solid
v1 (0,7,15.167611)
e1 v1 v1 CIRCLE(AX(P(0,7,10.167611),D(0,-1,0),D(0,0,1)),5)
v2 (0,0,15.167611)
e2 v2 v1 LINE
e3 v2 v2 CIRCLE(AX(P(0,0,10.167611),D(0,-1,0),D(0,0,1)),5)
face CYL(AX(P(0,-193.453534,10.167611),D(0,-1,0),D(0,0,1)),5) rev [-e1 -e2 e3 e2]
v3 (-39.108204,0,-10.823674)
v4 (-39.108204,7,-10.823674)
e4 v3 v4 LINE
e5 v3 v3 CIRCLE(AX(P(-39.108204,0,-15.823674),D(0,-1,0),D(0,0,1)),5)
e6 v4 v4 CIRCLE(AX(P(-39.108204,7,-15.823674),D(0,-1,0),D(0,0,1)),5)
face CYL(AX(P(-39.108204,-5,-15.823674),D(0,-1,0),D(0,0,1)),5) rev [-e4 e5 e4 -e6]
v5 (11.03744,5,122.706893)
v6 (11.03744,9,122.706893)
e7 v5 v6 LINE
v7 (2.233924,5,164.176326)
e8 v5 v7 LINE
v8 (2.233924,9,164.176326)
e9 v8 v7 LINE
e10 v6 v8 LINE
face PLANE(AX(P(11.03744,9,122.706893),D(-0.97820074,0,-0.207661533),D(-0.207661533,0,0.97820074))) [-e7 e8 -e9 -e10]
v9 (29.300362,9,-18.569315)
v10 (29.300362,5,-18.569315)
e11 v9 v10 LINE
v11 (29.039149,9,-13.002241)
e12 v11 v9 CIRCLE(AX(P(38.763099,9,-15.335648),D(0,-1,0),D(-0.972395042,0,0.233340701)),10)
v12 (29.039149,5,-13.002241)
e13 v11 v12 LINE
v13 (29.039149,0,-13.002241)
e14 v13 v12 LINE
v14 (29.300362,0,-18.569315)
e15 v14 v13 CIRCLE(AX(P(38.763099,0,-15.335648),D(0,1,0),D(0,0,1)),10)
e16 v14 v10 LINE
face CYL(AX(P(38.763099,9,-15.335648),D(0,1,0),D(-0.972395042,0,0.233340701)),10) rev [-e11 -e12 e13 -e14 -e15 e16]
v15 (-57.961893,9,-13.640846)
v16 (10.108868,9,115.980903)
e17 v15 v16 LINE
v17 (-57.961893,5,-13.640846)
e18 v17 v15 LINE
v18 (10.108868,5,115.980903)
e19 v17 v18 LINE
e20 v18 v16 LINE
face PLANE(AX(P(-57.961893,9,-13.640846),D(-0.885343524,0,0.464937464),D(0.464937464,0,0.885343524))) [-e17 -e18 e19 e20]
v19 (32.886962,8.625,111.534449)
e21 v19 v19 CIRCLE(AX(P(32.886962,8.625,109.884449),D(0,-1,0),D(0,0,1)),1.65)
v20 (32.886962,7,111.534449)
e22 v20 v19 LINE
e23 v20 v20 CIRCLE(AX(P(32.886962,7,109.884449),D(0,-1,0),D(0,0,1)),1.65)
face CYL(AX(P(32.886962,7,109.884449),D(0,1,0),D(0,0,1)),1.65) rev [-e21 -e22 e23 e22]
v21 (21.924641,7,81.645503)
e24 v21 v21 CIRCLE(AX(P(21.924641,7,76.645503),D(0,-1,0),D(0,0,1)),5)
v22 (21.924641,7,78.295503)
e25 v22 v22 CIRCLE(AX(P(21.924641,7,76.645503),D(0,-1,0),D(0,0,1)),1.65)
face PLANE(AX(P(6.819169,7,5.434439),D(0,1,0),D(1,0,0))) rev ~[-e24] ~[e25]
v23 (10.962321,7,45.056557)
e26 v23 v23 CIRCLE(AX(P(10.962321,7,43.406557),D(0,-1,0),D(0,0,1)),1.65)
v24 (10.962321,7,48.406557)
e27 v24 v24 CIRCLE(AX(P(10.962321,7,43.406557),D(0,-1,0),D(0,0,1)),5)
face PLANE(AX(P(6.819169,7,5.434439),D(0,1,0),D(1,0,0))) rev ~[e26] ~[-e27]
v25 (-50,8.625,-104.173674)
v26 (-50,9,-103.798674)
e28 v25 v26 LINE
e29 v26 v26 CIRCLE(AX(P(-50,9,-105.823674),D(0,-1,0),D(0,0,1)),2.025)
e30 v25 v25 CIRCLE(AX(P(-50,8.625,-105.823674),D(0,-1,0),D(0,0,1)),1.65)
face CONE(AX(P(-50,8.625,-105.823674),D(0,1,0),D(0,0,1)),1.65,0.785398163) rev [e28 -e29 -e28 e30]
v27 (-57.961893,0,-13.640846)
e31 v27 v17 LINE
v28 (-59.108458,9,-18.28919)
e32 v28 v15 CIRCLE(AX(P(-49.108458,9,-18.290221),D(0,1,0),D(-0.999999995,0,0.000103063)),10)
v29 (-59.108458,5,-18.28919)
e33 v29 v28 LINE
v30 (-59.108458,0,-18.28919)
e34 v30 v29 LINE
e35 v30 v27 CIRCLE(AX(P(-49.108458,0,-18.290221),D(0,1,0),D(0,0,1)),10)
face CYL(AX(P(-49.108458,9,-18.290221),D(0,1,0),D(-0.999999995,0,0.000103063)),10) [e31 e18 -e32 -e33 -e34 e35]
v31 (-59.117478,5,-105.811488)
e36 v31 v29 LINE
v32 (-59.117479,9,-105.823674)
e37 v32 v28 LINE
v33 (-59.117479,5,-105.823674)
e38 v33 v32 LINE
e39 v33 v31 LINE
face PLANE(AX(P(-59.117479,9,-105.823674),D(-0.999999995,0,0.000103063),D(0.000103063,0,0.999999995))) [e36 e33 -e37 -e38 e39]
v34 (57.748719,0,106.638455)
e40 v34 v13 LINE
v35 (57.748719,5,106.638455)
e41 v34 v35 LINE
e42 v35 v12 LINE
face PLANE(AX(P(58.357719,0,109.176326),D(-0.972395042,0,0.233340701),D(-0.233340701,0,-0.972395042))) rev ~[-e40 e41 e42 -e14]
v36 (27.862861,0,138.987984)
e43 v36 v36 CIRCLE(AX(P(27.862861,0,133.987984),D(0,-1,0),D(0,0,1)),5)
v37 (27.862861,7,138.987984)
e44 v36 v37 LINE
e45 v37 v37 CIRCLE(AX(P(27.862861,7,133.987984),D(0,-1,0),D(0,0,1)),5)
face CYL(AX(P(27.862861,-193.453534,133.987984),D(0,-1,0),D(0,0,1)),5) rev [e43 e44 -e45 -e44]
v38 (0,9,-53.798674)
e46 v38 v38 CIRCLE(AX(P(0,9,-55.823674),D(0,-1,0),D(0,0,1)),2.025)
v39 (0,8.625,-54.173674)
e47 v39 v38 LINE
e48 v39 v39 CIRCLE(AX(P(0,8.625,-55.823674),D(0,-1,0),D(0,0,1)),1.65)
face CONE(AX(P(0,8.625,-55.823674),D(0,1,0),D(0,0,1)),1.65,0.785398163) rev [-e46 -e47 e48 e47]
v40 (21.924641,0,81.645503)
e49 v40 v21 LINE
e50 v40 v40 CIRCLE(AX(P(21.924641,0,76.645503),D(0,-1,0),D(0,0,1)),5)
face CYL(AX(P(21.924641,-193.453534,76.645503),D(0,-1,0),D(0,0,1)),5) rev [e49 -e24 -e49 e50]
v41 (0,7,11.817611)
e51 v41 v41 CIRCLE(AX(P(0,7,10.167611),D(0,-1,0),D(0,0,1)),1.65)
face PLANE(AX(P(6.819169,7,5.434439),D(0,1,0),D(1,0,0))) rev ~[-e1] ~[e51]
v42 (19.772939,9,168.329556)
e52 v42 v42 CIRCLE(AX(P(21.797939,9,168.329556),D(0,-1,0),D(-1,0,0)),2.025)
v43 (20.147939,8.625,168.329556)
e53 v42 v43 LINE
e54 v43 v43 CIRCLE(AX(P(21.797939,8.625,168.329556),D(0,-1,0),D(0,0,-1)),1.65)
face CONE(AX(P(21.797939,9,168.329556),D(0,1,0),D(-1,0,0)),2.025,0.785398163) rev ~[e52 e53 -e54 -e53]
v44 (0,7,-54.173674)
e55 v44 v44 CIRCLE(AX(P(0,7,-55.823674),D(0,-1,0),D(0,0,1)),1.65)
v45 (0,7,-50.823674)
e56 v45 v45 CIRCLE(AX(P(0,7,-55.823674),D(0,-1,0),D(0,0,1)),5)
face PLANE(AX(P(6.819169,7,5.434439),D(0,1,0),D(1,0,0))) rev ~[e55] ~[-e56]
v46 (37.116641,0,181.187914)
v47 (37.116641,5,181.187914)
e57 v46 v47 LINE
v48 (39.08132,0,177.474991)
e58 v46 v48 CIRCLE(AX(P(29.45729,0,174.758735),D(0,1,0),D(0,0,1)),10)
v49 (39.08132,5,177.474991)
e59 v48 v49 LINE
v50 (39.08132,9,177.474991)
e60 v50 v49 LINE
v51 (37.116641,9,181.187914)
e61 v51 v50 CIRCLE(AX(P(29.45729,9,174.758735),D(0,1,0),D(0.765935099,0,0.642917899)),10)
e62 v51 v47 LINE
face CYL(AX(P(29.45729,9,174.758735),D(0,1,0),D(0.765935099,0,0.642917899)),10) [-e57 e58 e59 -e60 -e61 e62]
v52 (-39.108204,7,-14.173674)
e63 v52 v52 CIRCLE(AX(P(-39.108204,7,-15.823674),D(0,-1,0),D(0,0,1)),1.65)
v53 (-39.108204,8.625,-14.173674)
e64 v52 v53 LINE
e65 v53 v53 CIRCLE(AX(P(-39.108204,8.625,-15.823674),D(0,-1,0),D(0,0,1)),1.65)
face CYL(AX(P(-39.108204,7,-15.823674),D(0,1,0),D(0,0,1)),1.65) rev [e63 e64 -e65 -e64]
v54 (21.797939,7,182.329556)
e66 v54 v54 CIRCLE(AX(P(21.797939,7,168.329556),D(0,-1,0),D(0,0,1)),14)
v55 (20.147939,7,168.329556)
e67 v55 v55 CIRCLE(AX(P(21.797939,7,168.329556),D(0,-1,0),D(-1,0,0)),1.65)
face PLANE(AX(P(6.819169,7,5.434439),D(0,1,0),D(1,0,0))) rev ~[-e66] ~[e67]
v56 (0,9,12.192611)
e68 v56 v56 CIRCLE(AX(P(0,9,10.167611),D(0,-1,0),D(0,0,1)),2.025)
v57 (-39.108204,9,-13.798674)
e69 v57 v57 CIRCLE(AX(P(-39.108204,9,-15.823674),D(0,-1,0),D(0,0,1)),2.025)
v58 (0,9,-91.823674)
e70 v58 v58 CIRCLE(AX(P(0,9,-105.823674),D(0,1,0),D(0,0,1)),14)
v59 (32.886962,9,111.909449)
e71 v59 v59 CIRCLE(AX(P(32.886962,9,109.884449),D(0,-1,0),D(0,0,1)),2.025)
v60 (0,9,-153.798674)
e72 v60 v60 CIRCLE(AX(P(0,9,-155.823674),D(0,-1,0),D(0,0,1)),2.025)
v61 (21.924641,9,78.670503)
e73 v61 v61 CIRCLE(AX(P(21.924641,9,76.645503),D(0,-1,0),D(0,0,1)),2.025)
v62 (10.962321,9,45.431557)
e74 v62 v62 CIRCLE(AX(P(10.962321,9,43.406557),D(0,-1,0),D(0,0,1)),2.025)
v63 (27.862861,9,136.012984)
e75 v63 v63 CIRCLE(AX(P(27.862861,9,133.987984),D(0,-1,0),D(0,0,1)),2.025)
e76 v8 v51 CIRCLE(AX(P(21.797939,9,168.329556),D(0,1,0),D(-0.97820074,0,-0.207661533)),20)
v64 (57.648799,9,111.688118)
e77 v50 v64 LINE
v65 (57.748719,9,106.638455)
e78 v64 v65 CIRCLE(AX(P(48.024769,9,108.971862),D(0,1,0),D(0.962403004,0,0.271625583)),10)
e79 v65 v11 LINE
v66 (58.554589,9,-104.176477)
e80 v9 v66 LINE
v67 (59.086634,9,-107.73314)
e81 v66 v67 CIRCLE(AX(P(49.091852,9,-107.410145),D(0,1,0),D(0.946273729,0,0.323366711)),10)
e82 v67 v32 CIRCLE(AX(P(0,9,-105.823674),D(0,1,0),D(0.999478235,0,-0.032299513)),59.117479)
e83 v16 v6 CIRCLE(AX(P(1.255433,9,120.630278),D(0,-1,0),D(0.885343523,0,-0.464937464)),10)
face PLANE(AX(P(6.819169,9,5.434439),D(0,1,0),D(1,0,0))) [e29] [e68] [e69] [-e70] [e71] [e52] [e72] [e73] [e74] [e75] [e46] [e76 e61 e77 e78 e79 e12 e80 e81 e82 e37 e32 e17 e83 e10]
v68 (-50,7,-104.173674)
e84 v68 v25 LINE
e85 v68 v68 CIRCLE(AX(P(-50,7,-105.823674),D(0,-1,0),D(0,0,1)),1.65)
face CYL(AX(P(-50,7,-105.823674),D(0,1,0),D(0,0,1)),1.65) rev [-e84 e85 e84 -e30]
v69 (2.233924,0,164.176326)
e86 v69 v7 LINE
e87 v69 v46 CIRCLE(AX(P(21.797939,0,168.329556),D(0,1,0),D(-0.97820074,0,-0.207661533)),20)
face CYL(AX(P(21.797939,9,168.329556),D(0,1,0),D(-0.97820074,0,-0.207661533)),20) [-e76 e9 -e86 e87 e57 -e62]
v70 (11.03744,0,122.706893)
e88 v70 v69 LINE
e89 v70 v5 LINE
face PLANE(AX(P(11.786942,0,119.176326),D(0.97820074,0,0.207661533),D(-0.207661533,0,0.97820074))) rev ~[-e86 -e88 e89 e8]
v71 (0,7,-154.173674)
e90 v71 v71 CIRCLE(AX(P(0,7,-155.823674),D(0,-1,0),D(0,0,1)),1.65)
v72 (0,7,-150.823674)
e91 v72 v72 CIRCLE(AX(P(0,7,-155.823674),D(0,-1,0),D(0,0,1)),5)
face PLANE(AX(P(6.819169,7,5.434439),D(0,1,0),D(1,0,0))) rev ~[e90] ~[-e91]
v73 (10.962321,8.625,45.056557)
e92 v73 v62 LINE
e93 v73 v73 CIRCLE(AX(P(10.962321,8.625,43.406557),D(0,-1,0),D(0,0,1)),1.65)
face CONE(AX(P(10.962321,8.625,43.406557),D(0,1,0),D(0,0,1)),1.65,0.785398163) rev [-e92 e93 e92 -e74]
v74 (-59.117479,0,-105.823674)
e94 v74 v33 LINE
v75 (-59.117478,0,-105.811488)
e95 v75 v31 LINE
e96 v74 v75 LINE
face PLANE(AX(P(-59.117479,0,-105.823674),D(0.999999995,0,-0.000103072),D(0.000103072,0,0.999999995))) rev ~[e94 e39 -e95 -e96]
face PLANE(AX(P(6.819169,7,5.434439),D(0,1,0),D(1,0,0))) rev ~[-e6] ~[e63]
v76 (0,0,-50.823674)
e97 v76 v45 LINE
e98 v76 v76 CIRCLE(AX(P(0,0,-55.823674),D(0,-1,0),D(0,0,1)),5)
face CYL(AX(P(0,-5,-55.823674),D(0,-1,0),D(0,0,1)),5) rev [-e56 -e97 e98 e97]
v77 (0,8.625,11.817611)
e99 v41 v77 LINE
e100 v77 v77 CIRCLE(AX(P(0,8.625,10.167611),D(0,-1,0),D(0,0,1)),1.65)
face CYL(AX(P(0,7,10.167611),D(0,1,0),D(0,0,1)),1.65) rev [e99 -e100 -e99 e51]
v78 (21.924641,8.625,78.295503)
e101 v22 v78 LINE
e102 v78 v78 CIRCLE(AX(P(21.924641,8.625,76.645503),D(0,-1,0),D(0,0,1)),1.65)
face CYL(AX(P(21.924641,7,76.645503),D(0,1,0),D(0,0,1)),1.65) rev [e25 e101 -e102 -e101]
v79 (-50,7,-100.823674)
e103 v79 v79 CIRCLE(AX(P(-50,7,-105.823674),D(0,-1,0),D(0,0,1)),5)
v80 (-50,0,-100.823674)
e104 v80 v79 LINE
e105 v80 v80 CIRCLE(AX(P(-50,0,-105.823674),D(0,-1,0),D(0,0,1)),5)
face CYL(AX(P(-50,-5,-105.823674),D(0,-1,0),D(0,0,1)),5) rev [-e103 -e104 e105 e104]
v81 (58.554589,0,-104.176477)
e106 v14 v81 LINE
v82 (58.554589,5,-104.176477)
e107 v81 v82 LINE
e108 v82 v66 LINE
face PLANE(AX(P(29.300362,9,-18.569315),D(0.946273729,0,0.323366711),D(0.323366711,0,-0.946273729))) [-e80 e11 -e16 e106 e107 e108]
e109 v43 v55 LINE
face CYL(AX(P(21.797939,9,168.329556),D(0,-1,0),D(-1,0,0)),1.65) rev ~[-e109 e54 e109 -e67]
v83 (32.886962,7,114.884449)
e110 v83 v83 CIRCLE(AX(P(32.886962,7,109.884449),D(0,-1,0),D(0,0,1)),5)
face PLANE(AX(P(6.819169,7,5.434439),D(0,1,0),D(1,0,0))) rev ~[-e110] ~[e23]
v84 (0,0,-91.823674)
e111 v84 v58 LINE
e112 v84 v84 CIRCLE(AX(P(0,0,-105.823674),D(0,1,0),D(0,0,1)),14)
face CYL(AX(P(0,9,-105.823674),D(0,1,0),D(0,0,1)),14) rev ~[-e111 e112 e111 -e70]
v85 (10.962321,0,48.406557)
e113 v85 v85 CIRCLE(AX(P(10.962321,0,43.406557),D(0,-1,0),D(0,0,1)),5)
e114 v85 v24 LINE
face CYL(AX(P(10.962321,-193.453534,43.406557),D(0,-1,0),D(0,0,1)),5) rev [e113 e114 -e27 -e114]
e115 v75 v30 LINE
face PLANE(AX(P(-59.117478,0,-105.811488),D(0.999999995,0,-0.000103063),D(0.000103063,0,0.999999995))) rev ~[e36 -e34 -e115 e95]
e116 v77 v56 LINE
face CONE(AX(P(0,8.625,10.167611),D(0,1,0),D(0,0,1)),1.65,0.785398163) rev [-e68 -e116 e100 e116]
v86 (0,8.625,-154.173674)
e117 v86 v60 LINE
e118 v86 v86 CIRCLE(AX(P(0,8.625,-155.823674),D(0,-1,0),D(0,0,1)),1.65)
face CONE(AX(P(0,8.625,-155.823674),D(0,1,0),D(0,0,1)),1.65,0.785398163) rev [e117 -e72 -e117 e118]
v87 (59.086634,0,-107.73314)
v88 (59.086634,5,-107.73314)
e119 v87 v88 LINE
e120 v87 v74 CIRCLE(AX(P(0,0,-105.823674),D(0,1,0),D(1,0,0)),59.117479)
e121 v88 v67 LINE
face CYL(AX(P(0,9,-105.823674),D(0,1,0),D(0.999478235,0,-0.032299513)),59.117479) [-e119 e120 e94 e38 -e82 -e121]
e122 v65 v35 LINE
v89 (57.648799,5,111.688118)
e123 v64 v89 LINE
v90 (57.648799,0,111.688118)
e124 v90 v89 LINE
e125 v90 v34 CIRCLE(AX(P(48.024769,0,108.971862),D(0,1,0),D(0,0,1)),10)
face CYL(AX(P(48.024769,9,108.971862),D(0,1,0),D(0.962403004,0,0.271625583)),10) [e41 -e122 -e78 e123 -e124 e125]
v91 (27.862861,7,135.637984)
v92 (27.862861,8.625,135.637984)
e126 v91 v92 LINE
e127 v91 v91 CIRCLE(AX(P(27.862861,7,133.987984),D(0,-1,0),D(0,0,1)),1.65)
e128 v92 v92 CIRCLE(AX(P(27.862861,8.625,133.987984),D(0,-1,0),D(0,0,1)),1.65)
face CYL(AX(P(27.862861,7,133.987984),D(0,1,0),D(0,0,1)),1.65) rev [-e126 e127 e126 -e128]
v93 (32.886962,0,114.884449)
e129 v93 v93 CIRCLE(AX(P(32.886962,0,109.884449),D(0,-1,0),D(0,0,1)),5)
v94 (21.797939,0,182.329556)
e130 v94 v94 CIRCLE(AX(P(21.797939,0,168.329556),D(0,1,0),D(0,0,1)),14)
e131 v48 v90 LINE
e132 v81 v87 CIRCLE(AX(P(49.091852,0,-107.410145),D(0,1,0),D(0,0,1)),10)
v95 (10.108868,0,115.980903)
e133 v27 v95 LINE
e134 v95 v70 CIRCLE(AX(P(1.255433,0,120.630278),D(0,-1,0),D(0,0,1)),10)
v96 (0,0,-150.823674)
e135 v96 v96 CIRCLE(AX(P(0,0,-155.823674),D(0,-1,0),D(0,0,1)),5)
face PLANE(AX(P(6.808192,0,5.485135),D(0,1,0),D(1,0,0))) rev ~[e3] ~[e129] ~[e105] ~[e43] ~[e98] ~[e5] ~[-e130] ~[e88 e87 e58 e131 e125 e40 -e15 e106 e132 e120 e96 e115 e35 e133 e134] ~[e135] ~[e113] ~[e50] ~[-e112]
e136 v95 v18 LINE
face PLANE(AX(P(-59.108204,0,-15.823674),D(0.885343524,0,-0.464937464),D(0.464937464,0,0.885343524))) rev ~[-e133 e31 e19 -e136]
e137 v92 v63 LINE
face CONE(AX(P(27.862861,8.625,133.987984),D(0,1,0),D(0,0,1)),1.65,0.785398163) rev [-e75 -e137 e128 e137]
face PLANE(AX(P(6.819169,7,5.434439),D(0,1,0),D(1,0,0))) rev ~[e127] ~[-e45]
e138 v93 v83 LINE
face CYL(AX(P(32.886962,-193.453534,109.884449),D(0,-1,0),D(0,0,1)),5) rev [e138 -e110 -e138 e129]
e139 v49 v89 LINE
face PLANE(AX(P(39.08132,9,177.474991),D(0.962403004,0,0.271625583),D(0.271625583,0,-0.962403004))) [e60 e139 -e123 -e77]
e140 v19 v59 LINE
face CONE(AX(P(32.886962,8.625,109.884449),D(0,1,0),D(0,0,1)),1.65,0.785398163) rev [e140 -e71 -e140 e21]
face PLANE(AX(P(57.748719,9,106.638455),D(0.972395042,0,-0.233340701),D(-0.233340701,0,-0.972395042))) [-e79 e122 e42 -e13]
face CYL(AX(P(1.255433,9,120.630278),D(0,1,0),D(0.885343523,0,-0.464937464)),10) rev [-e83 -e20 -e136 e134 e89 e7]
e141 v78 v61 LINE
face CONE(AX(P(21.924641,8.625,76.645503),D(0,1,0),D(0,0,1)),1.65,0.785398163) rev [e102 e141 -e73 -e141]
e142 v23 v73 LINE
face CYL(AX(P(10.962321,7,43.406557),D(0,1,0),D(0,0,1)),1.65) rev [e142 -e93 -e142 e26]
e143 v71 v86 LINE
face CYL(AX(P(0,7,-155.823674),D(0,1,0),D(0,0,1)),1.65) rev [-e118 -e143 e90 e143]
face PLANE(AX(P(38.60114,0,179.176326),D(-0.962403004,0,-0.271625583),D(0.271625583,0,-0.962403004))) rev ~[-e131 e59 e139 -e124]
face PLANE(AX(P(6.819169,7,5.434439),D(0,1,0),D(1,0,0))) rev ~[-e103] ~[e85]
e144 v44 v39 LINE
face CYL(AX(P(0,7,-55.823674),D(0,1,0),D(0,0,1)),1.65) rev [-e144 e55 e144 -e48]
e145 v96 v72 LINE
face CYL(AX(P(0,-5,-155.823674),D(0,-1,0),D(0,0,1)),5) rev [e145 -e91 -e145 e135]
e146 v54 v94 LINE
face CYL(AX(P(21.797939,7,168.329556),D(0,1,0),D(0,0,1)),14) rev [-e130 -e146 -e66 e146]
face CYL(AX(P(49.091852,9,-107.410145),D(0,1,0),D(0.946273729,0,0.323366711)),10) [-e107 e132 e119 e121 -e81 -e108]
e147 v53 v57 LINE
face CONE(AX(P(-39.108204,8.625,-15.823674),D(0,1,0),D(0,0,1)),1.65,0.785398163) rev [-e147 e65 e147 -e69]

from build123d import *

# Parameters (mm, degrees)
EXTRUDE_1_DEPTH              = 5
FILLET_1_R                   = 10
EXTRUDE_START                = 2
EXTRUDE_2_DEPTH              = 2
CUT_EXTRUDE_2_DEPTH          = 198.453534081
CUT_EXTRUDE_2_DEPTH_BACK     = 198.453534081
SKETCH_7_R                   = 5
CUT_EXTRUDE_4_DEPTH          = 198.514298523
CUT_EXTRUDE_4_DEPTH_BACK     = 7
SKETCH_5_R                   = 14
SKETCH_9_R                   = 14
CUT_EXTRUDE_5_DEPTH          = 10
CUT_EXTRUDE_7_DEPTH          = 10
CUT_EXTRUDE_7_DEPTH_BACK     = 10
SKETCH_6_R                   = 5
SKETCH_10_R                  = 14
EXTRUDE_3_DEPTH              = 2
HOLE_WIZARD_M4_1_AT_2_COUNT  = 2
HOLE_WIZARD_M4_1_AT_2_PITCH  = 100
HOLE_WIZARD_M4_1_AT_3_COUNT  = 2
HOLE_WIZARD_M4_1_AT_3_PITCH  = 70.710678119
HOLE_WIZARD_M4_1_AT_4_COUNT  = 2
HOLE_WIZARD_M4_1_AT_4_PITCH  = 145.35973122
HOLE_WIZARD_M4_1_AT_5_COUNT  = 2
HOLE_WIZARD_M4_1_AT_5_PITCH  = 165.991285367
HOLE_WIZARD_M4_1_AT_6_COUNT  = 2
HOLE_WIZARD_M4_1_AT_6_PITCH  = 199.531595345
HOLE_WIZARD_M4_1_AT_7_COUNT  = 2
HOLE_WIZARD_M4_1_AT_7_PITCH  = 233.500767159
HOLE_WIZARD_M4_1_AT_8_COUNT  = 2
HOLE_WIZARD_M4_1_AT_8_PITCH  = 267.735613968
HOLE_WIZARD_M4_1_AT_9_COUNT  = 2
HOLE_WIZARD_M4_1_AT_9_PITCH  = 291.147962879
HOLE_WIZARD_M4_2_D           = 3.3
HOLE_WIZARD_M4_2_DEPTH       = 10.1
HOLE_WIZARD_M4_2_CSINK_D     = 4.05
HOLE_WIZARD_M4_2_CSINK_ANGLE = 90
HOLE_WIZARD_M4_2_TIP         = 0.991420021


with BuildPart() as part:
    # 草图1 → 凸台-拉伸1 (new body)
    with BuildSketch(Plane(origin=(0, 0, 0), x_dir=(1, 0, 0), z_dir=(0, 1, 0))):
        with BuildLine():
            Line((28.36210367, 15.823673932), (59.117479337, 105.823673932))
            ThreePointArc((59.117479337, 105.823673932), (0, 164.941153269), (-59.117479337, 105.823673932))
            Line((-59.117479337, 105.823673932), (-59.117478081, 105.811488283))
            Line((-59.117478081, 105.811488283), (-59.108203667, 15.82367441))
            Line((-59.108203667, 15.82367441), (11.786941507, -119.17632559))
            Line((11.786941507, -119.17632559), (2.233923801, -164.17632559))
            ThreePointArc((2.233923801, -164.17632559), (14.171961552, -186.818592843), (38.601140216, -179.176326068))
            Line((38.601140216, -179.176326068), (58.357719046, -109.176326068))
            Line((58.357719046, -109.176326068), (28.36210367, 15.823673932))
        make_face()
    extrude(amount=EXTRUDE_1_DEPTH)

    # 圆角1
    fillet_1_edges = [part.edges().sort_by_distance(p)[0] for p in [
        (11.786941507, 2.5, 119.17632559),
        (-59.108203667, 2.5, -15.82367441),
        (59.117479337, 2.5, -105.823673932),
        (28.36210367, 2.5, -15.823673932),
        (58.357719046, 2.5, 109.176326068),
        (38.601140216, 2.5, 179.176326068),
    ]]
    fillet(fillet_1_edges, radius=FILLET_1_R)

    # 草图8 → 凸台-拉伸2 (add)
    with BuildSketch(Plane(origin=(0, 5, 0), x_dir=(1, 0, 0), z_dir=(0, 1, 0)).offset(EXTRUDE_START)):
        with BuildLine():
            Line((29.300361737, 18.569315114), (58.554588826, 104.176477469))
            ThreePointArc((58.554588826, 104.176477469), (58.98180751, 105.930695077), (59.086633883, 107.733139709))
            ThreePointArc((59.086633883, 107.733139709), (-0.95485745, 164.933441402), (-59.117479337, 105.823673932))
            Line((-59.117479337, 105.823673932), (-59.108457771, 18.289190078))
            ThreePointArc((-59.108457771, 18.289190078), (-58.817462925, 15.895388783), (-57.961893059, 13.640846069))
            Line((-57.961893059, 13.640846069), (10.108867752, -115.980902881))
            ThreePointArc((10.108867752, -115.980902881), (11.161474402, -119.262675904), (11.037439917, -122.706892851))
            Line((11.037439917, -122.706892851), (2.233923801, -164.17632559))
            ThreePointArc((2.233923801, -164.17632559), (13.031285464, -186.305812614), (37.116640576, -181.187914225))
            ThreePointArc((37.116640576, -181.187914225), (38.296139318, -179.43577869), (39.081319631, -177.47499107))
            Line((39.081319631, -177.47499107), (57.648798745, -111.688118295))
            ThreePointArc((57.648798745, -111.688118295), (58.022811544, -109.169699075), (57.748719119, -106.63845545))
            Line((57.748719119, -106.63845545), (29.039148609, 13.002240988))
            ThreePointArc((29.039148609, 13.002240988), (28.774088822, 15.804343144), (29.300361737, 18.569315114))
        make_face()
    extrude(amount=-EXTRUDE_2_DEPTH)

    # 草图7 → 切除-拉伸2 (cut, two sides: drawn at the far end of the back side and taken through both)
    with BuildSketch(Plane(origin=(0, 5, 0), x_dir=(1, 0, 0), z_dir=(0, 1, 0)).offset(-CUT_EXTRUDE_2_DEPTH_BACK)):
        with Locations(Location((0, -10.167611435, 0), (0, 0, 270))):
            Circle(SKETCH_7_R)
        with Locations(Location((10.962320581, -43.406557379, 0), (0, 0, 270))):
            Circle(SKETCH_7_R)
        with Locations(Location((21.924641163, -76.645503323, 0), (0, 0, 270))):
            Circle(SKETCH_7_R)
        with Locations(Location((32.886961744, -109.884449267, 0), (0, 0, 270))):
            Circle(SKETCH_7_R)
        with Locations(Location((27.862861404, -133.987984293, 0), (0, 0, 270))):
            Circle(SKETCH_7_R)
    extrude(amount=CUT_EXTRUDE_2_DEPTH + CUT_EXTRUDE_2_DEPTH_BACK, mode=Mode.SUBTRACT)

    # 草图5 → 切除-拉伸4 (cut, two sides: drawn at the far end of the back side and taken through both)
    with BuildSketch(Plane(origin=(0, 0, 0), x_dir=(-1, 0, 0), z_dir=(0, -1, 0)).offset(-CUT_EXTRUDE_4_DEPTH_BACK)):
        with Locations(Location((-21.7979386, -168.329556252, 0), (0, 0, 270))):
            Circle(SKETCH_5_R)
    extrude(amount=CUT_EXTRUDE_4_DEPTH + CUT_EXTRUDE_4_DEPTH_BACK, mode=Mode.SUBTRACT)

    # 草图9 → 切除-拉伸5 (cut)
    with BuildSketch(Plane(origin=(0, 7, 0), x_dir=(1, 0, 0), z_dir=(0, 1, 0))):
        with Locations(Location((0, 105.823673932, 0), (0, 0, 270))):
            Circle(SKETCH_9_R)
    extrude(amount=-CUT_EXTRUDE_5_DEPTH, mode=Mode.SUBTRACT)

    # 草图6 → 切除-拉伸7 (cut, two sides: drawn at the far end of the back side and taken through both)
    with BuildSketch(Plane(origin=(0, 5, 0), x_dir=(1, 0, 0), z_dir=(0, 1, 0)).offset(-CUT_EXTRUDE_7_DEPTH_BACK)):
        with Locations(Location((0, 155.823673932, 0), (0, 0, 270))):
            Circle(SKETCH_6_R)
        with Locations(Location((0, 55.823673932, 0), (0, 0, 270))):
            Circle(SKETCH_6_R)
        with Locations(Location((-50, 105.823673932, 0), (0, 0, 270))):
            Circle(SKETCH_6_R)
        with Locations(Location((-39.108203667, 15.82367441, 0), (0, 0, 270))):
            Circle(SKETCH_6_R)
    extrude(amount=CUT_EXTRUDE_7_DEPTH + CUT_EXTRUDE_7_DEPTH_BACK, mode=Mode.SUBTRACT)

    # 草图10 → 凸台-拉伸3 (add)
    with BuildSketch(Plane(origin=(0, 7, 0), x_dir=(1, 0, 0), z_dir=(0, 1, 0)).offset(EXTRUDE_START)):
        with BuildLine():
            Line((29.300361737, 18.569315114), (58.554588826, 104.176477469))
            ThreePointArc((58.554588826, 104.176477469), (58.98180751, 105.930695077), (59.086633883, 107.733139709))
            ThreePointArc((59.086633883, 107.733139709), (-0.95485745, 164.933441402), (-59.117479337, 105.823673932))
            Line((-59.117479337, 105.823673932), (-59.108457771, 18.289190078))
            ThreePointArc((-59.108457771, 18.289190078), (-58.817462925, 15.895388783), (-57.961893059, 13.640846069))
            Line((-57.961893059, 13.640846069), (10.108867752, -115.980902881))
            ThreePointArc((10.108867752, -115.980902881), (11.161474402, -119.262675904), (11.037439917, -122.706892851))
            Line((11.037439917, -122.706892851), (2.233923801, -164.17632559))
            ThreePointArc((2.233923801, -164.17632559), (13.031285464, -186.305812614), (37.116640576, -181.187914225))
            ThreePointArc((37.116640576, -181.187914225), (38.296139318, -179.43577869), (39.081319631, -177.47499107))
            Line((39.081319631, -177.47499107), (57.648798745, -111.688118295))
            ThreePointArc((57.648798745, -111.688118295), (58.022811544, -109.169699075), (57.748719119, -106.63845545))
            Line((57.748719119, -106.63845545), (29.039148609, 13.002240988))
            ThreePointArc((29.039148609, 13.002240988), (28.774088822, 15.804343144), (29.300361737, 18.569315114))
        make_face()
        with Locations(Location((0, 105.823673932, 0), (0, 0, 270))):
            Circle(SKETCH_10_R, mode=Mode.SUBTRACT)
    extrude(amount=-EXTRUDE_3_DEPTH)

    # 草图13 → M4 螺纹孔1 (revolve, cut)
    with BuildSketch(Plane(origin=(0, 9, -155.823673932), x_dir=(0, 0, 1), z_dir=(1, 0, 0))):
        Polygon((0, 0), (0, 2), (1.65, 2), (1.65, 0.375), (2.025, 0), align=None)
    hole_wizard_m4_1 = revolve(axis=Axis((0, 15.35, -155.823673932), (0, -1, 0)), mode=Mode.SUBTRACT)

    # M4 螺纹孔1 at 2: M4 螺纹孔1 ×2
    with Locations(*[(0, 0, i * HOLE_WIZARD_M4_1_AT_2_PITCH) for i in range(1, HOLE_WIZARD_M4_1_AT_2_COUNT)]):
        add(hole_wizard_m4_1, mode=Mode.SUBTRACT)

    # M4 螺纹孔1 at 3: M4 螺纹孔1 ×2
    with Locations(*[Vector(-0.7071067811865475, 0, 0.7071067811865476) * (i * HOLE_WIZARD_M4_1_AT_3_PITCH) for i in range(1, HOLE_WIZARD_M4_1_AT_3_COUNT)]):
        add(hole_wizard_m4_1, mode=Mode.SUBTRACT)

    # M4 螺纹孔1 at 4: M4 螺纹孔1 ×2
    with Locations(*[Vector(-0.2690442761497492, 0, 0.9631278095201371) * (i * HOLE_WIZARD_M4_1_AT_4_PITCH) for i in range(1, HOLE_WIZARD_M4_1_AT_4_COUNT)]):
        add(hole_wizard_m4_1, mode=Mode.SUBTRACT)

    # M4 螺纹孔1 at 5: M4 螺纹孔1 ×2
    with Locations(*[(0, 0, i * HOLE_WIZARD_M4_1_AT_5_PITCH) for i in range(1, HOLE_WIZARD_M4_1_AT_5_COUNT)]):
        add(hole_wizard_m4_1, mode=Mode.SUBTRACT)

    # M4 螺纹孔1 at 6: M4 螺纹孔1 ×2
    with Locations(*[Vector(0.05494027430843455, 0, 0.998489642539628) * (i * HOLE_WIZARD_M4_1_AT_6_PITCH) for i in range(1, HOLE_WIZARD_M4_1_AT_6_COUNT)]):
        add(hole_wizard_m4_1, mode=Mode.SUBTRACT)

    # M4 螺纹孔1 at 7: M4 螺纹孔1 ×2
    with Locations(*[Vector(0.09389537100730377, 0, 0.9955820706016159) * (i * HOLE_WIZARD_M4_1_AT_7_PITCH) for i in range(1, HOLE_WIZARD_M4_1_AT_7_COUNT)]):
        add(hole_wizard_m4_1, mode=Mode.SUBTRACT)

    # M4 螺纹孔1 at 8: M4 螺纹孔1 ×2
    with Locations(*[Vector(0.12283372113599639, 0, 0.9924272653206805) * (i * HOLE_WIZARD_M4_1_AT_8_PITCH) for i in range(1, HOLE_WIZARD_M4_1_AT_8_COUNT)]):
        add(hole_wizard_m4_1, mode=Mode.SUBTRACT)

    # M4 螺纹孔1 at 9: M4 螺纹孔1 ×2
    with Locations(*[Vector(0.09570000465954767, 0, 0.9954102215208375) * (i * HOLE_WIZARD_M4_1_AT_9_PITCH) for i in range(1, HOLE_WIZARD_M4_1_AT_9_COUNT)]):
        add(hole_wizard_m4_1, mode=Mode.SUBTRACT)

    # M4 螺纹孔2
    with Locations(Plane(origin=(0, 9, 0), x_dir=(1, 0, 0), z_dir=(0, 1, 0))):
        with Locations((21.7979386, -168.329556252)):
            CounterSinkHole(HOLE_WIZARD_M4_2_D / 2, HOLE_WIZARD_M4_2_CSINK_D / 2, depth=HOLE_WIZARD_M4_2_DEPTH, counter_sink_angle=HOLE_WIZARD_M4_2_CSINK_ANGLE)
            with Locations((0, 0, -(HOLE_WIZARD_M4_2_DEPTH + HOLE_WIZARD_M4_2_TIP / 2))):  # 118° drill point
                Cone(0, HOLE_WIZARD_M4_2_D / 2, HOLE_WIZARD_M4_2_TIP, mode=Mode.SUBTRACT)


solid = part.part
